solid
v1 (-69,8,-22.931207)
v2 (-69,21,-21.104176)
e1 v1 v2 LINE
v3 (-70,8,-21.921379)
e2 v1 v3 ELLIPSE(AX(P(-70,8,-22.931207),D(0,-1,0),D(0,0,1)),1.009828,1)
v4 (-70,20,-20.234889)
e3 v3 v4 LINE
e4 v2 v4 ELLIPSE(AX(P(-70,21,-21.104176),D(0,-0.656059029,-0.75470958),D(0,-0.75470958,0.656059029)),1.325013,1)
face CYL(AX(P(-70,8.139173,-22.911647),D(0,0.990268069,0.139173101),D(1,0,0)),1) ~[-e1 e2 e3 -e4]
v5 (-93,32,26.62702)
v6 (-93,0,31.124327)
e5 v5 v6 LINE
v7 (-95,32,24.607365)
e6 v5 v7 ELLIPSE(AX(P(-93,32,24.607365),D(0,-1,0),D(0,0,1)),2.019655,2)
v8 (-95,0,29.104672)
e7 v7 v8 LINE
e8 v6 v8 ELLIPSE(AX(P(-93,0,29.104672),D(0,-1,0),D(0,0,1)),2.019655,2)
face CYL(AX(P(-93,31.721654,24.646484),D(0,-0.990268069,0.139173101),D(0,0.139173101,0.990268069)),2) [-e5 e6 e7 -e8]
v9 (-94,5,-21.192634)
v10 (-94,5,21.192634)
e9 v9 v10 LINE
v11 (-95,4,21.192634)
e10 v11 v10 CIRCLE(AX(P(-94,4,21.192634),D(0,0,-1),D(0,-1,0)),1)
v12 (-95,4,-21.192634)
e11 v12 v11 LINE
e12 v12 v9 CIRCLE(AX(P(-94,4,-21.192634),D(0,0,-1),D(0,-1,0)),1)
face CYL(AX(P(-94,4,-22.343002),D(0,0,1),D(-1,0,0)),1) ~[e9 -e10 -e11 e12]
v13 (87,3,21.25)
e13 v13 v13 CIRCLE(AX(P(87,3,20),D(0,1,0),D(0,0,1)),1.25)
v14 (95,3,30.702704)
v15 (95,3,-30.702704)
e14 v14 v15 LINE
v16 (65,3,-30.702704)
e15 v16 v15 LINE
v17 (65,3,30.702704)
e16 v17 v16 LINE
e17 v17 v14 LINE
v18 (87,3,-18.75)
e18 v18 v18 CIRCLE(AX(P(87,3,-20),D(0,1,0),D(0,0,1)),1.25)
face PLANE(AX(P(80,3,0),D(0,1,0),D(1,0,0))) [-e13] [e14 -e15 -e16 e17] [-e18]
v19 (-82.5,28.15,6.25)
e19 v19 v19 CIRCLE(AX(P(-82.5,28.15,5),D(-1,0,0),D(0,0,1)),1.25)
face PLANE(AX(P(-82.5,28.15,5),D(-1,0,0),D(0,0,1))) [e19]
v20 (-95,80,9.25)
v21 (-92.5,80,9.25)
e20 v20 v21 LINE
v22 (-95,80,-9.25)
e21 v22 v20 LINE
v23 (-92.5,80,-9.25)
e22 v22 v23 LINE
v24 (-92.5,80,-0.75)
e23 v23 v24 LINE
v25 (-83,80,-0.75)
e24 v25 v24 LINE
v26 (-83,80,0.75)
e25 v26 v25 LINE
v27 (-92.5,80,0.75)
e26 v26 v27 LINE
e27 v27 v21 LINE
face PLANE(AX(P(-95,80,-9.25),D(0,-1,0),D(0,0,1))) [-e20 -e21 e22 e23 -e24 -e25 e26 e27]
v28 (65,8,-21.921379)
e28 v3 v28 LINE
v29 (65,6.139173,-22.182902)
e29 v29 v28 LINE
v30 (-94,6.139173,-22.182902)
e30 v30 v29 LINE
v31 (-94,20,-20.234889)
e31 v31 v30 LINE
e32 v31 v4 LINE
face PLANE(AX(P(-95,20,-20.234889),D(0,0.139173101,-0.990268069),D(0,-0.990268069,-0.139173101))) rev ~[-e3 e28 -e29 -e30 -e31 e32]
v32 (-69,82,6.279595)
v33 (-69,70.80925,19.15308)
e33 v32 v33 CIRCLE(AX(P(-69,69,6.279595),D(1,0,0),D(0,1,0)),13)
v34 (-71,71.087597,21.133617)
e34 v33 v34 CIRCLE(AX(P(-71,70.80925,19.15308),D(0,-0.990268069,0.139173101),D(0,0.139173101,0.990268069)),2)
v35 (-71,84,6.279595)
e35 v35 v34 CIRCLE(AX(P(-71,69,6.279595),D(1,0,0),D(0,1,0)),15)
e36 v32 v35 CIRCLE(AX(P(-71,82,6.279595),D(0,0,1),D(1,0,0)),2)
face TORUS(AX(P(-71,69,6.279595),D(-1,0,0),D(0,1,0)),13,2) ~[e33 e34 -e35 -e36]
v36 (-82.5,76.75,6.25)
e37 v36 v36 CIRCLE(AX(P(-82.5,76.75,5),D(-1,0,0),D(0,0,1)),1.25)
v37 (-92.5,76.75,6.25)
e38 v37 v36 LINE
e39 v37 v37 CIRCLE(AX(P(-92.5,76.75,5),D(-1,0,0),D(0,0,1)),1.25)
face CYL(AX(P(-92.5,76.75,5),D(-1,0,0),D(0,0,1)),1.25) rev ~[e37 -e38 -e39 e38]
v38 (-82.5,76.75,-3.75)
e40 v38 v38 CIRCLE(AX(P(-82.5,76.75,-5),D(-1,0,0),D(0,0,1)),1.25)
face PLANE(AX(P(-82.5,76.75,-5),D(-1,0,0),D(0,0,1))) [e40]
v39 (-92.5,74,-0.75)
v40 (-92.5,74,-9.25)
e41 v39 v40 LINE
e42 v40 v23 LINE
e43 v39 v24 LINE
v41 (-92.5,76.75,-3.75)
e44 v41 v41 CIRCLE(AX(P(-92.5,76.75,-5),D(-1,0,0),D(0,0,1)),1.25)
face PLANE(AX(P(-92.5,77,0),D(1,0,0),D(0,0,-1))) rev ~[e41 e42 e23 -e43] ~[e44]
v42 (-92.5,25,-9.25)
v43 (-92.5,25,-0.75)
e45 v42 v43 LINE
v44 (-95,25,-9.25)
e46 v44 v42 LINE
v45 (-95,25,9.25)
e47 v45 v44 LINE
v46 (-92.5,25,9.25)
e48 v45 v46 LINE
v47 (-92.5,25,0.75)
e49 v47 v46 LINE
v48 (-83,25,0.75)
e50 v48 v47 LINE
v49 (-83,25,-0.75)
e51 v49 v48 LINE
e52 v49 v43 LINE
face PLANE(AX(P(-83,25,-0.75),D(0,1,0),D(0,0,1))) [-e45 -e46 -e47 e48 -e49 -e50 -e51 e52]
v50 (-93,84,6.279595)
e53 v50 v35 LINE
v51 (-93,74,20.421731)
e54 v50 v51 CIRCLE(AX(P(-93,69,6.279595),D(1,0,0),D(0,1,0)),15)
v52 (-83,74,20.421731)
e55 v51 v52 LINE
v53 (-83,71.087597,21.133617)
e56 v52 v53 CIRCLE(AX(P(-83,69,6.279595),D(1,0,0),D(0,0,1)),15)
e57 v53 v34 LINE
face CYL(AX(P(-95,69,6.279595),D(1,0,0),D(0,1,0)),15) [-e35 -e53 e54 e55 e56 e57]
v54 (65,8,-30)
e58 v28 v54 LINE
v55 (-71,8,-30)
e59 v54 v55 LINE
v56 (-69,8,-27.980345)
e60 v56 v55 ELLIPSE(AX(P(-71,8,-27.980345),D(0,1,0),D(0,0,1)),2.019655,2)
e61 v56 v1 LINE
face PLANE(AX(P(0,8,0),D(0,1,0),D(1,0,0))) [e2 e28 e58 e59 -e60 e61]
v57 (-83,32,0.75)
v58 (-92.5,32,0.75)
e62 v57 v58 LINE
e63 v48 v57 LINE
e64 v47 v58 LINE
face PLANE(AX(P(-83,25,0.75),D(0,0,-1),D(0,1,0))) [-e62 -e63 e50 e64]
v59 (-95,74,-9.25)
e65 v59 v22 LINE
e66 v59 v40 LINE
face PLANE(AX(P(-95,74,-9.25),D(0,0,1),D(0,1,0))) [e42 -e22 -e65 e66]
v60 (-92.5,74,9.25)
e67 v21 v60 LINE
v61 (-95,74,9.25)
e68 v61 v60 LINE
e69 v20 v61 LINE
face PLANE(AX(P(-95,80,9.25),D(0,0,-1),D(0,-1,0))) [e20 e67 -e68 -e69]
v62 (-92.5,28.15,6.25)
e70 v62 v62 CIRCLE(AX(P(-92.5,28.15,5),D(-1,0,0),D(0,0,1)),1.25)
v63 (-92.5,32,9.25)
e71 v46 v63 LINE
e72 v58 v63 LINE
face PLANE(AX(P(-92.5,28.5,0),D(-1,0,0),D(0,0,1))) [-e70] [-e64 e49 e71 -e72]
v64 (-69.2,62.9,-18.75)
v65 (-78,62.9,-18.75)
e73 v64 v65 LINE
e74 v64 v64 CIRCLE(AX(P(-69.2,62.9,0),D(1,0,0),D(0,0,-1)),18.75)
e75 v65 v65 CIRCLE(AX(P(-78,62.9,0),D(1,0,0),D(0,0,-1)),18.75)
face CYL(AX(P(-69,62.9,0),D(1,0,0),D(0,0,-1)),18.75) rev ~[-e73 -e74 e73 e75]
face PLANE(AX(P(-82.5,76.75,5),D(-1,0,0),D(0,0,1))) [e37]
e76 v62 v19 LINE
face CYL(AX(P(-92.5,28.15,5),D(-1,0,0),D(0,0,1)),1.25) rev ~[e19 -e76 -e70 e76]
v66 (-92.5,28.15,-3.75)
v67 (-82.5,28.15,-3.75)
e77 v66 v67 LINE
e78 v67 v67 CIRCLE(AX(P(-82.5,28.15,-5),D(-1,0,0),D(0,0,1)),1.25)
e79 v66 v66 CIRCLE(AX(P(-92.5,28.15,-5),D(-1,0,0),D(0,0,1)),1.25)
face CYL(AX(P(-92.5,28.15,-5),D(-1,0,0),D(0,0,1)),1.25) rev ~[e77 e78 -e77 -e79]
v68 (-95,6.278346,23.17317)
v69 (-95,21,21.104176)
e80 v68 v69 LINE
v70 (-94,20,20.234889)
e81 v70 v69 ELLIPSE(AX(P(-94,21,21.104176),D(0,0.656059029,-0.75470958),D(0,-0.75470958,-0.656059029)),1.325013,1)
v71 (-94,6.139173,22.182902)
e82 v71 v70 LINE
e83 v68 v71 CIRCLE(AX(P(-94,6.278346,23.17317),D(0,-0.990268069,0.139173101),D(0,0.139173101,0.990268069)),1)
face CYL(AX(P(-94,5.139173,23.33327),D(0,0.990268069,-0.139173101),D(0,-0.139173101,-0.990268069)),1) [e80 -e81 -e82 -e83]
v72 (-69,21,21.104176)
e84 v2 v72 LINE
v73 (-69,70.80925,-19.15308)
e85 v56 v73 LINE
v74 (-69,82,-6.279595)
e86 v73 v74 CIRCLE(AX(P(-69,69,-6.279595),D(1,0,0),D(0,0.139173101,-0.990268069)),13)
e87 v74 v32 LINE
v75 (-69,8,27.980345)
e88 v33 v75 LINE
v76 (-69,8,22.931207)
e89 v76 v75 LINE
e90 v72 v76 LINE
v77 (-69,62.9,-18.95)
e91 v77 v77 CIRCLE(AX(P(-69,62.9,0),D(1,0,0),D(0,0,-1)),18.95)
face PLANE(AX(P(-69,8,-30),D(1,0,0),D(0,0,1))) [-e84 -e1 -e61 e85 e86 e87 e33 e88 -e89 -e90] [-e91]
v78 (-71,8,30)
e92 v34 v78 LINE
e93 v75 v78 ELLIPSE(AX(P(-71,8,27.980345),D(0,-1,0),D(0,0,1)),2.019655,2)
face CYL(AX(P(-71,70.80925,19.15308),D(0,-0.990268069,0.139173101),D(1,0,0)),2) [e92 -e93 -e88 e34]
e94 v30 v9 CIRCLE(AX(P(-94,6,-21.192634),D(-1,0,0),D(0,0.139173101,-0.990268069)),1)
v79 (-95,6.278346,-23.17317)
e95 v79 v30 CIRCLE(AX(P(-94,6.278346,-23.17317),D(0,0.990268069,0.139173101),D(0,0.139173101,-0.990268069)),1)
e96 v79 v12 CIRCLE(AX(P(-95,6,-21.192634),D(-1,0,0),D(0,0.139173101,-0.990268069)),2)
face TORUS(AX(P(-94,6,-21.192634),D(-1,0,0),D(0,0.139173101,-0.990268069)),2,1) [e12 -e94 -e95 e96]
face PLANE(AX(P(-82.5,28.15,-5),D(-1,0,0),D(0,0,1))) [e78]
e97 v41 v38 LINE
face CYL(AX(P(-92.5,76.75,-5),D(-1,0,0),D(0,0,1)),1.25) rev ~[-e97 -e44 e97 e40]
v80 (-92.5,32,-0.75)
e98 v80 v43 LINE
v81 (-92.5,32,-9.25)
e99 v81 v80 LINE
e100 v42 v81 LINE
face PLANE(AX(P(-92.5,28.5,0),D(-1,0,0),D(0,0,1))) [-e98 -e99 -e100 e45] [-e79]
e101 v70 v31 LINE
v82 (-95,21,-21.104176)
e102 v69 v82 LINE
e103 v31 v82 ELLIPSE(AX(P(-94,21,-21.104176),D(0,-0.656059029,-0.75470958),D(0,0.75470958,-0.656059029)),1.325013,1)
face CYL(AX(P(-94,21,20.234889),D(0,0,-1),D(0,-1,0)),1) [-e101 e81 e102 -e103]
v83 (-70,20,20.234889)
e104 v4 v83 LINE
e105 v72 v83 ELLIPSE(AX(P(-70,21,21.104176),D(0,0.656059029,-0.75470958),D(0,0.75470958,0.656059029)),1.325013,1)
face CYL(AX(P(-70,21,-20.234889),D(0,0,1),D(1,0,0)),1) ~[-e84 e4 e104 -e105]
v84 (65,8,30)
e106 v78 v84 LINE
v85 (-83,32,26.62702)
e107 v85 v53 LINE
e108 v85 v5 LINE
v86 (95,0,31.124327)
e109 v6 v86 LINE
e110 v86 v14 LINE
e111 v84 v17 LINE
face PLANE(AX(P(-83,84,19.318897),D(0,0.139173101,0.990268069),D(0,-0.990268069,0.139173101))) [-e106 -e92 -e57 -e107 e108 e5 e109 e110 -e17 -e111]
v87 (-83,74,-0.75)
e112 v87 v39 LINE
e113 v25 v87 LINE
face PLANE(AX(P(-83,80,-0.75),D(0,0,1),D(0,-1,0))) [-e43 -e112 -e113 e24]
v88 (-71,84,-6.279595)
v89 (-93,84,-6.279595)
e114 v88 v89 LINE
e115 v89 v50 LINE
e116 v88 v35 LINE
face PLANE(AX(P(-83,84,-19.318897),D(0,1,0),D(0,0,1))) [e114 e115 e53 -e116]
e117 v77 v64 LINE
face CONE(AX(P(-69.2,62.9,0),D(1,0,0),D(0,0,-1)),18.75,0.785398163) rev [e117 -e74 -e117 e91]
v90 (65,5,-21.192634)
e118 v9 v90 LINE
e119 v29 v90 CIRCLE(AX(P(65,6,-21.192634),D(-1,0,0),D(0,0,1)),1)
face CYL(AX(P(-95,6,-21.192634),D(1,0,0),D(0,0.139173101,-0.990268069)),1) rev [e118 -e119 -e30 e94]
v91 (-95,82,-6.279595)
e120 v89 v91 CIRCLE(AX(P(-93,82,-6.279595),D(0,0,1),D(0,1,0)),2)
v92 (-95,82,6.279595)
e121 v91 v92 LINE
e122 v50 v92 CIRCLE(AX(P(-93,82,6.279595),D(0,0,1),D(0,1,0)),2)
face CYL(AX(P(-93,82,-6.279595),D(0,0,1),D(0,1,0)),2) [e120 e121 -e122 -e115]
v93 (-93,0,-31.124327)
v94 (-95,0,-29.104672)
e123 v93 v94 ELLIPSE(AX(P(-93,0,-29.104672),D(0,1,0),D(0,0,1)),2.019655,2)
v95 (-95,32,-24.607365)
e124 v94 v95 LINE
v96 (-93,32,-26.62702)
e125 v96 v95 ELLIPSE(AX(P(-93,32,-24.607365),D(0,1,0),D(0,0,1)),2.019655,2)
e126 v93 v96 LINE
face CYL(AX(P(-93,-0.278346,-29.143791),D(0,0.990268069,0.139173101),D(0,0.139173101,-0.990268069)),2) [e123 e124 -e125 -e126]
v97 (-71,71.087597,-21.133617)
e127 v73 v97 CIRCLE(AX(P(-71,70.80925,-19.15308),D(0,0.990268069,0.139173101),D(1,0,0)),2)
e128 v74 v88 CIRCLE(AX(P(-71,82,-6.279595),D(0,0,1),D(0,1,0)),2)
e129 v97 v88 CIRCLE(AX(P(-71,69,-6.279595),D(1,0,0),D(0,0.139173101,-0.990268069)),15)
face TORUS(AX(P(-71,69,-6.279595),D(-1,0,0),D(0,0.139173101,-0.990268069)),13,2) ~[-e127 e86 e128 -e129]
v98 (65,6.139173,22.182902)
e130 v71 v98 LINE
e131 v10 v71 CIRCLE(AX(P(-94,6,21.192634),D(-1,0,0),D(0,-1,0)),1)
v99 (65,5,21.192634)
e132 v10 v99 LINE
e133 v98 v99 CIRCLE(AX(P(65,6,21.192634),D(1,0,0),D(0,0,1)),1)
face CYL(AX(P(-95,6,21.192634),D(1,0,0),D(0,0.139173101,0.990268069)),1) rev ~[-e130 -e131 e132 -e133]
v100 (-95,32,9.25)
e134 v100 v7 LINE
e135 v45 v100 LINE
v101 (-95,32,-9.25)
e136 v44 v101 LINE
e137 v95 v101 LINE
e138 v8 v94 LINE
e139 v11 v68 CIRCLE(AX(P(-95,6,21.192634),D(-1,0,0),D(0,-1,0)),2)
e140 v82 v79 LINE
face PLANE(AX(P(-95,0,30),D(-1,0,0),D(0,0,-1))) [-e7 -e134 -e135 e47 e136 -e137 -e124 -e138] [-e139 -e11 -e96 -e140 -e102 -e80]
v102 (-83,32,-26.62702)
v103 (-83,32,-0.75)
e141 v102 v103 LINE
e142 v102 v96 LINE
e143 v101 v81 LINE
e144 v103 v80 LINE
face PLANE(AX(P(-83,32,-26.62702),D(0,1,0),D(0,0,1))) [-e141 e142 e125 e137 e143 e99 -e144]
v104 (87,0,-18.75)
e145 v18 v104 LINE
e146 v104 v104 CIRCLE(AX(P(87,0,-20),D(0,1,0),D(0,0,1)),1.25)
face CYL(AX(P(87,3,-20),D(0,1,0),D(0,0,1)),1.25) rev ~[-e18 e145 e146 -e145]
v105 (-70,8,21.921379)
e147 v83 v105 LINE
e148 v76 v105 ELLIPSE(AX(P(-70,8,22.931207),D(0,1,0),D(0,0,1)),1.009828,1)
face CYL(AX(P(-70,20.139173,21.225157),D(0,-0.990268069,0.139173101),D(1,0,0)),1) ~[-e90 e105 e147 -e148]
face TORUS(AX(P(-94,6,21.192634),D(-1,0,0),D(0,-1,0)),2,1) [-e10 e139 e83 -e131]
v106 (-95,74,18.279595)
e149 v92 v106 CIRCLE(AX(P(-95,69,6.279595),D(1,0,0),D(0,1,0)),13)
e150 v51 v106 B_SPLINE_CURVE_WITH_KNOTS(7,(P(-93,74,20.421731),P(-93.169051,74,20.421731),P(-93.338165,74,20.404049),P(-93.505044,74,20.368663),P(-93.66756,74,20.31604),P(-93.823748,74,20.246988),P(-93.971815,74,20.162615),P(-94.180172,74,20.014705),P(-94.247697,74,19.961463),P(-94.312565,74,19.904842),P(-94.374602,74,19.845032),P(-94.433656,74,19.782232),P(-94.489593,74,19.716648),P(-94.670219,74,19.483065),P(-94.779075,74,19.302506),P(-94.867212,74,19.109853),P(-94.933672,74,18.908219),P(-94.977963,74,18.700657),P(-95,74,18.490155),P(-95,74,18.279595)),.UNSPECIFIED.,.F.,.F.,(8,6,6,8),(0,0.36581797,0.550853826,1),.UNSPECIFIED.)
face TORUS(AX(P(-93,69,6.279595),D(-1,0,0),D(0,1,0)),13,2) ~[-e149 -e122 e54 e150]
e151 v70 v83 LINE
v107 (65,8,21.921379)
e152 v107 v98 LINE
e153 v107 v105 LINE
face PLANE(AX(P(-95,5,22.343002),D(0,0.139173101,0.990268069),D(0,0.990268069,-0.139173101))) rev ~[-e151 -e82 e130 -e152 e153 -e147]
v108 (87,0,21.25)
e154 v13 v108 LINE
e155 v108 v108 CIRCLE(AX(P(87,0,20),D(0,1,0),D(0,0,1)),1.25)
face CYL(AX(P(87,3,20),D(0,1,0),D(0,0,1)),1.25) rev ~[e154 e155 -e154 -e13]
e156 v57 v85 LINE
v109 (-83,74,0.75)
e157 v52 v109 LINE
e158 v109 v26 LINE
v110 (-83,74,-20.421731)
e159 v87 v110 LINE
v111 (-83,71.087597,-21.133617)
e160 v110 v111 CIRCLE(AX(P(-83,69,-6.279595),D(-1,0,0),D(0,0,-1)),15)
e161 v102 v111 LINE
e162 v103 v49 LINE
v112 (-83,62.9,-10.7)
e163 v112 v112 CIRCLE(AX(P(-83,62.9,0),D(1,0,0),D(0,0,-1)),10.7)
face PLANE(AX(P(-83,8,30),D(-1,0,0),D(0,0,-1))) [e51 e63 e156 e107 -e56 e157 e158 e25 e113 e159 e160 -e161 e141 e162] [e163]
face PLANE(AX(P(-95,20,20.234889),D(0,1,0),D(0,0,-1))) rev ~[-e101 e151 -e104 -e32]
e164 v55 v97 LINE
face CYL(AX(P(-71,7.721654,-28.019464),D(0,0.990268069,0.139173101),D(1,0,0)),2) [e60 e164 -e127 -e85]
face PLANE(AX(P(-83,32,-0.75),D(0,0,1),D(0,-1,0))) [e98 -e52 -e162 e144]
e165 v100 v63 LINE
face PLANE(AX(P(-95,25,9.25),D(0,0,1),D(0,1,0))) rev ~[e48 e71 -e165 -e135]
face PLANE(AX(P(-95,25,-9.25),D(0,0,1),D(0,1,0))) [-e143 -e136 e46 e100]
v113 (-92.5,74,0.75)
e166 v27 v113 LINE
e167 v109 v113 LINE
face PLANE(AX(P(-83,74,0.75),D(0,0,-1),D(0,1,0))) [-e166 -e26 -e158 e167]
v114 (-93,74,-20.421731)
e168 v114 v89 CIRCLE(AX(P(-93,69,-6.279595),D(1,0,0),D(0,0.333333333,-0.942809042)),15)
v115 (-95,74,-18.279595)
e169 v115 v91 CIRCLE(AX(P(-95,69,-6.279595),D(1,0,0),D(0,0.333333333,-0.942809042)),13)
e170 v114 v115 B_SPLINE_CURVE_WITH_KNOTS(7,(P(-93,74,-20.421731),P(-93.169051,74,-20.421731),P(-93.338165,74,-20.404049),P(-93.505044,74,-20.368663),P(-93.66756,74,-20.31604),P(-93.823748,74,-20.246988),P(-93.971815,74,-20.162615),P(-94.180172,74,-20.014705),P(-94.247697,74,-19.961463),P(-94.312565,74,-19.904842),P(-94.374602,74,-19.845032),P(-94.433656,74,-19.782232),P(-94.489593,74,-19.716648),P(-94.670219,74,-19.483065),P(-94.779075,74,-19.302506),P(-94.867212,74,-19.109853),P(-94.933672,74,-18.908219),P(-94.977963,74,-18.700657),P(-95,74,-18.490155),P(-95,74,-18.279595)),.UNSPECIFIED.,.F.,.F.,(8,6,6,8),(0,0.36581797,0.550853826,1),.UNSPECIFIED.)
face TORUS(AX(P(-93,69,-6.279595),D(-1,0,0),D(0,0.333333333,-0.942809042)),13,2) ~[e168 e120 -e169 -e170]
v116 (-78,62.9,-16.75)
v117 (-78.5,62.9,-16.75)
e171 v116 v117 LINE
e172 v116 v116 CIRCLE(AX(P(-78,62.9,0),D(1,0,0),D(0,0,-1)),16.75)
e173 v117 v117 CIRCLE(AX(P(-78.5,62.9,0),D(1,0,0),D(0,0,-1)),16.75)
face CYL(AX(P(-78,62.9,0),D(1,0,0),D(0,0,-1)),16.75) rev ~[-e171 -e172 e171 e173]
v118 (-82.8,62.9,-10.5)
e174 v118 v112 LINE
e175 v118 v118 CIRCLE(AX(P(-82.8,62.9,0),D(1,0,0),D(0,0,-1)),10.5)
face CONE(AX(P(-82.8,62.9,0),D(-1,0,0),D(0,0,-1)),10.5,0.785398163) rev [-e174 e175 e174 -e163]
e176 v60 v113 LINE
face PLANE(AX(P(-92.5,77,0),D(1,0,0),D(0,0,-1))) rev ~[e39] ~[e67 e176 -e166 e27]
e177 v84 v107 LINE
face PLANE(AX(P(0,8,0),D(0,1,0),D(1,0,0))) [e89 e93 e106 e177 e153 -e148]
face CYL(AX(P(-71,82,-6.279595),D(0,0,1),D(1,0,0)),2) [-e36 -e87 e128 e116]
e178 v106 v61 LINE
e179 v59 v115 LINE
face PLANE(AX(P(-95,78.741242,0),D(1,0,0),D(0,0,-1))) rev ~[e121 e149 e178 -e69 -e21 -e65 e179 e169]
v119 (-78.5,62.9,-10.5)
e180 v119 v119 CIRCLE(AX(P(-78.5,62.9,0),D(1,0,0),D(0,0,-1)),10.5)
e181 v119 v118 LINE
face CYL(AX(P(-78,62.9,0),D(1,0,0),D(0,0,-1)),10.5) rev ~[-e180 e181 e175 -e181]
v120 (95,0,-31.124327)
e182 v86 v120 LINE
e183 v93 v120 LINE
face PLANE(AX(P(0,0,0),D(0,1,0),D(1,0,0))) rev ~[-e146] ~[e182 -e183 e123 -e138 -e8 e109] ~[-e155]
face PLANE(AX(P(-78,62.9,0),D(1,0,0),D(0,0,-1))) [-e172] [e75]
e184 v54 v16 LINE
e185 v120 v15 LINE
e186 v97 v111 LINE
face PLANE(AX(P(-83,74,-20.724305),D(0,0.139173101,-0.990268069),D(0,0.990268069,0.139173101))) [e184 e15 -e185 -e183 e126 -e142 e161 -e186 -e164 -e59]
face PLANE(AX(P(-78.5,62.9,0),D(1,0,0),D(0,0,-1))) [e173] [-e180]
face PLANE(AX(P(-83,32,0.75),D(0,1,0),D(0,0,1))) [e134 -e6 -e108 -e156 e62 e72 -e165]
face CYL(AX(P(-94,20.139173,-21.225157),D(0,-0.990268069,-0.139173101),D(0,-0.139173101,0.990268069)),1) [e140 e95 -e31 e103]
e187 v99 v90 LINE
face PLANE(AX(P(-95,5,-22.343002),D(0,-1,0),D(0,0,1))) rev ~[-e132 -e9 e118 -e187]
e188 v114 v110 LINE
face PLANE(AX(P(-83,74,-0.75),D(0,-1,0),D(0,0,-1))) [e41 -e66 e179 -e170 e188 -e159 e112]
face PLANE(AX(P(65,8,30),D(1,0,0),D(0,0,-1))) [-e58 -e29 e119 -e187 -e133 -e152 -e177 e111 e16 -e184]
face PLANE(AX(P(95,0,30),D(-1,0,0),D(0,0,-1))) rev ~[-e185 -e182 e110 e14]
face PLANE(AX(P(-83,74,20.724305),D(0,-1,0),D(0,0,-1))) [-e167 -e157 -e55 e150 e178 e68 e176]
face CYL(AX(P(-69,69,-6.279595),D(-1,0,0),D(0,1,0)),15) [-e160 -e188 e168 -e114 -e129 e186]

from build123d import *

# Parameters (mm, degrees)
SKETCH_1_W          = 190
SKETCH_1_H          = 60.00000000000001
EXTRUDE_1_DEPTH     = 8
EXTRUDE_2_DEPTH     = 76
SKETCH_3_W          = 29.999999999999986
SKETCH_3_H          = 60
CUT_EXTRUDE_1_DEPTH = 5
DRAFT_1_ANGLE       = 8.000000000000018
EXTRUDE_3_DEPTH     = 12
SKETCH_5_W          = 18.5
SKETCH_5_H          = 6.9999999999999964
CUT_EXTRUDE_2_DEPTH = 2.5
CUT_EXTRUDE_3_DEPTH = 211.0588577307207
SKETCH_7_R          = 18.750000000000007
CUT_EXTRUDE_4_DEPTH = 9
SKETCH_8_R          = 10.499999999999996
CUT_EXTRUDE_5_DEPTH = 195.81715456071922
SKETCH_10_R         = 16.750000000000007
CUT_EXTRUDE_7_DEPTH = 0.5
FILLET_2_R          = 15
FILLET_3_R          = 1
CHAMFER_1_SIZE      = 0.2
FILLET_4_R          = 2
SKETCH_9_R          = 1.2500000000000004
CUT_EXTRUDE_6_DEPTH = 10
SKETCH_11_R         = 1.2499999999999978
CUT_EXTRUDE_9_DEPTH = 129.66516135432758


with BuildPart() as part:
    # 스케치1 → 보스-돌출1 (new body)
    with BuildSketch(Plane(origin=(0, 0, 0), x_dir=(1, 0, 0), z_dir=(0, 1, 0))):
        Rectangle(SKETCH_1_W, SKETCH_1_H)
    extrude(amount=EXTRUDE_1_DEPTH)

    # 스케치2 → 보스-돌출2 (add)
    with BuildSketch(Plane(origin=(0, 8, 0), x_dir=(1, 0, 0), z_dir=(0, 1, 0))):
        Polygon((-68.99999999999997, -29.999999999999993), (-82.99999999999999, -29.999999999999996), (-82.99999999999997, 30), (-68.99999999999997, 30.000000000000004), align=None)
    extrude(amount=EXTRUDE_2_DEPTH)

    # 스케치3 → 컷-돌출1 (cut)
    with BuildSketch(Plane(origin=(0, 8, 0), x_dir=(1, 0, 0), z_dir=(0, 1, 0))):
        with Locations((80, 3.55e-15)):
            Rectangle(SKETCH_3_W, SKETCH_3_H)
    extrude(amount=-CUT_EXTRUDE_1_DEPTH, mode=Mode.SUBTRACT)

    # 구배1
    draft_1_faces = [part.faces().sort_by_distance(p)[0] for p in [
        (1.421e-14, 2.0774022239325727, -30),
        (1.421e-14, 2.0774022239325727, 30),
    ]]
    draft(draft_1_faces, Plane.ZX.offset(8), DRAFT_1_ANGLE)

    # 스케치4 → 보스-돌출3 (add)
    with BuildSketch(Plane.ZY.offset(82.99999999999997)):
        Polygon((-19.318896562618214, 83.99999999999999), (19.318896562618214, 83.99999999999999), (20.724304909642164, 74), (0.7500000000000067, 74), (0.7500000000000067, 80), (-0.7499999999999934, 80), (-0.7499999999999934, 74), (-20.724304909642132, 74), align=None)
        Polygon((0.7500000000000067, 32), (26.627019967142623, 32), (30.000000000000014, 8), (-29.999999999999986, 8), (-26.627019967142584, 32), (-0.7499999999999934, 32), (-0.7499999999999934, 25), (0.7500000000000067, 25), align=None)
    extrude(amount=EXTRUDE_3_DEPTH)

    # 스케치5 → 컷-돌출2 (cut)
    with BuildSketch(Plane.ZY.offset(94.99999999999999)):
        Polygon((-9.25, 80), (9.25, 80.00000000000001), (9.250000000000002, 74), (-9.249999999999998, 74), align=None)
        with Locations((-1.78e-15, 28.5)):
            Rectangle(SKETCH_5_W, SKETCH_5_H)
    extrude(amount=-CUT_EXTRUDE_2_DEPTH, mode=Mode.SUBTRACT)

    # 스케치6 → 컷-돌출3 (cut, through all)
    with BuildSketch(Plane.ZY.offset(94.99999999999999)):
        Polygon((-20.234889403422354, 20), (-22.34300192395823, 4.999999999999996), (22.343001923958226, 5.000000000000001), (20.23488940342236, 20), align=None)
    extrude(amount=-CUT_EXTRUDE_3_DEPTH, mode=Mode.SUBTRACT)

    # 스케치7 → 컷-돌출4 (cut)
    with BuildSketch(Plane(origin=(-68.99999999999997, 0, 0), x_dir=(0, 0, -1), z_dir=(1, 0, 0))):
        with Locations((2.22e-15, 62.9)):
            Circle(SKETCH_7_R)
    extrude(amount=-CUT_EXTRUDE_4_DEPTH, mode=Mode.SUBTRACT)

    # 스케치8 → 컷-돌출5 (cut, through all)
    with BuildSketch(Plane(origin=(-77.99999999999997, 0, 0), x_dir=(0, 0, -1), z_dir=(1, 0, 0))):
        with Locations((2.22e-15, 62.9)):
            Circle(SKETCH_8_R)
    extrude(amount=-CUT_EXTRUDE_5_DEPTH, mode=Mode.SUBTRACT)

    # 스케치10 → 컷-돌출7 (cut)
    with BuildSketch(Plane(origin=(-77.99999999999997, 0, 0), x_dir=(0, 0, -1), z_dir=(1, 0, 0))):
        with Locations((2.22e-15, 62.9)):
            Circle(SKETCH_10_R)
    extrude(amount=-CUT_EXTRUDE_7_DEPTH, mode=Mode.SUBTRACT)

    # 필렛2
    fillet_2_edges = [part.edges().sort_by_distance(p)[0] for p in [
        (-81.99999999999997, 84, -19.31889656261823),
        (-81.99999999999997, 84, 19.318896562618217),
    ]]
    fillet(fillet_2_edges, radius=FILLET_2_R)

    # 필렛3
    fillet_3_edges = [part.edges().sort_by_distance(p)[0] for p in [
        (-68.99999999999997, 20, 3.55e-15),
        (-68.99999999999997, 14, 21.078134411636704),
        (-14.999999999999986, 5.000000000000001, 22.343001923958226),
        (-68.99999999999997, 14, -21.078134411636704),
        (-14.999999999999986, 4.999999999999996, -22.34300192395823),
        (-94.99999999999999, 20, 3.55e-15),
        (-94.99999999999999, 12.499999999999998, -21.288945663690292),
        (-94.99999999999999, 4.999999999999998, -3.55e-15),
        (-94.99999999999999, 12.5, 21.288945663690292),
    ]]
    fillet(fillet_3_edges, radius=FILLET_3_R)

    # 모따기1
    chamfer_1_edges = [part.edges().sort_by_distance(p)[0] for p in [
        (-68.99999999999997, 62.9, 18.750000000000004),
        (-82.99999999999999, 62.9, 10.499999999999995),
    ]]
    chamfer(chamfer_1_edges, length=CHAMFER_1_SIZE)

    # 필렛4
    fillet_4_edges = [part.edges().sort_by_distance(p)[0] for p in [
        (-94.99999999999997, 83.99999999999999, -1.365e-14),
        (-68.99999999999997, 84, 0),
        (-68.99999999999997, 39.54379825720049, -25.566808263249197),
        (-68.99999999999997, 39.54379825720049, 25.566808263249193),
        (-68.99999999999999, 80.32064370334157, -16.120480930232446),
        (-68.99999999999999, 80.32064370334157, 16.120480930232446),
        (-94.99999999999999, 81.24744871391589, -14.93984953321921),
        (-94.99999999999999, 81.24744871391587, 14.939849533219187),
        (-94.99999999999997, 16, 28.87567332238087),
        (-94.99999999999999, 16, -28.875673322380862),
    ]]
    fillet(fillet_4_edges, radius=FILLET_4_R)

    # 스케치9 → 컷-돌출6 (cut)
    with BuildSketch(Plane.ZY.offset(92.49999999999999)):
        with Locations((-5.000000000000003, 76.75000000000001)):
            Circle(SKETCH_9_R)
        with Locations((4.999999999999997, 76.75)):
            Circle(SKETCH_9_R)
        with Locations((-4.9999999999999964, 28.150000000000002)):
            Circle(SKETCH_9_R)
        with Locations((5.000000000000004, 28.150000000000002)):
            Circle(SKETCH_9_R)
    extrude(amount=-CUT_EXTRUDE_6_DEPTH, mode=Mode.SUBTRACT)

    # 스케치11 → 컷-돌출9 (cut, through all)
    with BuildSketch(Plane(origin=(0, 3, 0), x_dir=(1, 0, 0), z_dir=(0, 1, 0))):
        with Locations(Location((87.00000000000003, 19.999999999999996, 0), (0, 0, 270))):
            Circle(SKETCH_11_R)
        with Locations(Location((87.00000000000003, -20.000000000000004, 0), (0, 0, 270))):
            Circle(SKETCH_11_R)
    extrude(amount=-CUT_EXTRUDE_9_DEPTH, mode=Mode.SUBTRACT)


solid = part.part
